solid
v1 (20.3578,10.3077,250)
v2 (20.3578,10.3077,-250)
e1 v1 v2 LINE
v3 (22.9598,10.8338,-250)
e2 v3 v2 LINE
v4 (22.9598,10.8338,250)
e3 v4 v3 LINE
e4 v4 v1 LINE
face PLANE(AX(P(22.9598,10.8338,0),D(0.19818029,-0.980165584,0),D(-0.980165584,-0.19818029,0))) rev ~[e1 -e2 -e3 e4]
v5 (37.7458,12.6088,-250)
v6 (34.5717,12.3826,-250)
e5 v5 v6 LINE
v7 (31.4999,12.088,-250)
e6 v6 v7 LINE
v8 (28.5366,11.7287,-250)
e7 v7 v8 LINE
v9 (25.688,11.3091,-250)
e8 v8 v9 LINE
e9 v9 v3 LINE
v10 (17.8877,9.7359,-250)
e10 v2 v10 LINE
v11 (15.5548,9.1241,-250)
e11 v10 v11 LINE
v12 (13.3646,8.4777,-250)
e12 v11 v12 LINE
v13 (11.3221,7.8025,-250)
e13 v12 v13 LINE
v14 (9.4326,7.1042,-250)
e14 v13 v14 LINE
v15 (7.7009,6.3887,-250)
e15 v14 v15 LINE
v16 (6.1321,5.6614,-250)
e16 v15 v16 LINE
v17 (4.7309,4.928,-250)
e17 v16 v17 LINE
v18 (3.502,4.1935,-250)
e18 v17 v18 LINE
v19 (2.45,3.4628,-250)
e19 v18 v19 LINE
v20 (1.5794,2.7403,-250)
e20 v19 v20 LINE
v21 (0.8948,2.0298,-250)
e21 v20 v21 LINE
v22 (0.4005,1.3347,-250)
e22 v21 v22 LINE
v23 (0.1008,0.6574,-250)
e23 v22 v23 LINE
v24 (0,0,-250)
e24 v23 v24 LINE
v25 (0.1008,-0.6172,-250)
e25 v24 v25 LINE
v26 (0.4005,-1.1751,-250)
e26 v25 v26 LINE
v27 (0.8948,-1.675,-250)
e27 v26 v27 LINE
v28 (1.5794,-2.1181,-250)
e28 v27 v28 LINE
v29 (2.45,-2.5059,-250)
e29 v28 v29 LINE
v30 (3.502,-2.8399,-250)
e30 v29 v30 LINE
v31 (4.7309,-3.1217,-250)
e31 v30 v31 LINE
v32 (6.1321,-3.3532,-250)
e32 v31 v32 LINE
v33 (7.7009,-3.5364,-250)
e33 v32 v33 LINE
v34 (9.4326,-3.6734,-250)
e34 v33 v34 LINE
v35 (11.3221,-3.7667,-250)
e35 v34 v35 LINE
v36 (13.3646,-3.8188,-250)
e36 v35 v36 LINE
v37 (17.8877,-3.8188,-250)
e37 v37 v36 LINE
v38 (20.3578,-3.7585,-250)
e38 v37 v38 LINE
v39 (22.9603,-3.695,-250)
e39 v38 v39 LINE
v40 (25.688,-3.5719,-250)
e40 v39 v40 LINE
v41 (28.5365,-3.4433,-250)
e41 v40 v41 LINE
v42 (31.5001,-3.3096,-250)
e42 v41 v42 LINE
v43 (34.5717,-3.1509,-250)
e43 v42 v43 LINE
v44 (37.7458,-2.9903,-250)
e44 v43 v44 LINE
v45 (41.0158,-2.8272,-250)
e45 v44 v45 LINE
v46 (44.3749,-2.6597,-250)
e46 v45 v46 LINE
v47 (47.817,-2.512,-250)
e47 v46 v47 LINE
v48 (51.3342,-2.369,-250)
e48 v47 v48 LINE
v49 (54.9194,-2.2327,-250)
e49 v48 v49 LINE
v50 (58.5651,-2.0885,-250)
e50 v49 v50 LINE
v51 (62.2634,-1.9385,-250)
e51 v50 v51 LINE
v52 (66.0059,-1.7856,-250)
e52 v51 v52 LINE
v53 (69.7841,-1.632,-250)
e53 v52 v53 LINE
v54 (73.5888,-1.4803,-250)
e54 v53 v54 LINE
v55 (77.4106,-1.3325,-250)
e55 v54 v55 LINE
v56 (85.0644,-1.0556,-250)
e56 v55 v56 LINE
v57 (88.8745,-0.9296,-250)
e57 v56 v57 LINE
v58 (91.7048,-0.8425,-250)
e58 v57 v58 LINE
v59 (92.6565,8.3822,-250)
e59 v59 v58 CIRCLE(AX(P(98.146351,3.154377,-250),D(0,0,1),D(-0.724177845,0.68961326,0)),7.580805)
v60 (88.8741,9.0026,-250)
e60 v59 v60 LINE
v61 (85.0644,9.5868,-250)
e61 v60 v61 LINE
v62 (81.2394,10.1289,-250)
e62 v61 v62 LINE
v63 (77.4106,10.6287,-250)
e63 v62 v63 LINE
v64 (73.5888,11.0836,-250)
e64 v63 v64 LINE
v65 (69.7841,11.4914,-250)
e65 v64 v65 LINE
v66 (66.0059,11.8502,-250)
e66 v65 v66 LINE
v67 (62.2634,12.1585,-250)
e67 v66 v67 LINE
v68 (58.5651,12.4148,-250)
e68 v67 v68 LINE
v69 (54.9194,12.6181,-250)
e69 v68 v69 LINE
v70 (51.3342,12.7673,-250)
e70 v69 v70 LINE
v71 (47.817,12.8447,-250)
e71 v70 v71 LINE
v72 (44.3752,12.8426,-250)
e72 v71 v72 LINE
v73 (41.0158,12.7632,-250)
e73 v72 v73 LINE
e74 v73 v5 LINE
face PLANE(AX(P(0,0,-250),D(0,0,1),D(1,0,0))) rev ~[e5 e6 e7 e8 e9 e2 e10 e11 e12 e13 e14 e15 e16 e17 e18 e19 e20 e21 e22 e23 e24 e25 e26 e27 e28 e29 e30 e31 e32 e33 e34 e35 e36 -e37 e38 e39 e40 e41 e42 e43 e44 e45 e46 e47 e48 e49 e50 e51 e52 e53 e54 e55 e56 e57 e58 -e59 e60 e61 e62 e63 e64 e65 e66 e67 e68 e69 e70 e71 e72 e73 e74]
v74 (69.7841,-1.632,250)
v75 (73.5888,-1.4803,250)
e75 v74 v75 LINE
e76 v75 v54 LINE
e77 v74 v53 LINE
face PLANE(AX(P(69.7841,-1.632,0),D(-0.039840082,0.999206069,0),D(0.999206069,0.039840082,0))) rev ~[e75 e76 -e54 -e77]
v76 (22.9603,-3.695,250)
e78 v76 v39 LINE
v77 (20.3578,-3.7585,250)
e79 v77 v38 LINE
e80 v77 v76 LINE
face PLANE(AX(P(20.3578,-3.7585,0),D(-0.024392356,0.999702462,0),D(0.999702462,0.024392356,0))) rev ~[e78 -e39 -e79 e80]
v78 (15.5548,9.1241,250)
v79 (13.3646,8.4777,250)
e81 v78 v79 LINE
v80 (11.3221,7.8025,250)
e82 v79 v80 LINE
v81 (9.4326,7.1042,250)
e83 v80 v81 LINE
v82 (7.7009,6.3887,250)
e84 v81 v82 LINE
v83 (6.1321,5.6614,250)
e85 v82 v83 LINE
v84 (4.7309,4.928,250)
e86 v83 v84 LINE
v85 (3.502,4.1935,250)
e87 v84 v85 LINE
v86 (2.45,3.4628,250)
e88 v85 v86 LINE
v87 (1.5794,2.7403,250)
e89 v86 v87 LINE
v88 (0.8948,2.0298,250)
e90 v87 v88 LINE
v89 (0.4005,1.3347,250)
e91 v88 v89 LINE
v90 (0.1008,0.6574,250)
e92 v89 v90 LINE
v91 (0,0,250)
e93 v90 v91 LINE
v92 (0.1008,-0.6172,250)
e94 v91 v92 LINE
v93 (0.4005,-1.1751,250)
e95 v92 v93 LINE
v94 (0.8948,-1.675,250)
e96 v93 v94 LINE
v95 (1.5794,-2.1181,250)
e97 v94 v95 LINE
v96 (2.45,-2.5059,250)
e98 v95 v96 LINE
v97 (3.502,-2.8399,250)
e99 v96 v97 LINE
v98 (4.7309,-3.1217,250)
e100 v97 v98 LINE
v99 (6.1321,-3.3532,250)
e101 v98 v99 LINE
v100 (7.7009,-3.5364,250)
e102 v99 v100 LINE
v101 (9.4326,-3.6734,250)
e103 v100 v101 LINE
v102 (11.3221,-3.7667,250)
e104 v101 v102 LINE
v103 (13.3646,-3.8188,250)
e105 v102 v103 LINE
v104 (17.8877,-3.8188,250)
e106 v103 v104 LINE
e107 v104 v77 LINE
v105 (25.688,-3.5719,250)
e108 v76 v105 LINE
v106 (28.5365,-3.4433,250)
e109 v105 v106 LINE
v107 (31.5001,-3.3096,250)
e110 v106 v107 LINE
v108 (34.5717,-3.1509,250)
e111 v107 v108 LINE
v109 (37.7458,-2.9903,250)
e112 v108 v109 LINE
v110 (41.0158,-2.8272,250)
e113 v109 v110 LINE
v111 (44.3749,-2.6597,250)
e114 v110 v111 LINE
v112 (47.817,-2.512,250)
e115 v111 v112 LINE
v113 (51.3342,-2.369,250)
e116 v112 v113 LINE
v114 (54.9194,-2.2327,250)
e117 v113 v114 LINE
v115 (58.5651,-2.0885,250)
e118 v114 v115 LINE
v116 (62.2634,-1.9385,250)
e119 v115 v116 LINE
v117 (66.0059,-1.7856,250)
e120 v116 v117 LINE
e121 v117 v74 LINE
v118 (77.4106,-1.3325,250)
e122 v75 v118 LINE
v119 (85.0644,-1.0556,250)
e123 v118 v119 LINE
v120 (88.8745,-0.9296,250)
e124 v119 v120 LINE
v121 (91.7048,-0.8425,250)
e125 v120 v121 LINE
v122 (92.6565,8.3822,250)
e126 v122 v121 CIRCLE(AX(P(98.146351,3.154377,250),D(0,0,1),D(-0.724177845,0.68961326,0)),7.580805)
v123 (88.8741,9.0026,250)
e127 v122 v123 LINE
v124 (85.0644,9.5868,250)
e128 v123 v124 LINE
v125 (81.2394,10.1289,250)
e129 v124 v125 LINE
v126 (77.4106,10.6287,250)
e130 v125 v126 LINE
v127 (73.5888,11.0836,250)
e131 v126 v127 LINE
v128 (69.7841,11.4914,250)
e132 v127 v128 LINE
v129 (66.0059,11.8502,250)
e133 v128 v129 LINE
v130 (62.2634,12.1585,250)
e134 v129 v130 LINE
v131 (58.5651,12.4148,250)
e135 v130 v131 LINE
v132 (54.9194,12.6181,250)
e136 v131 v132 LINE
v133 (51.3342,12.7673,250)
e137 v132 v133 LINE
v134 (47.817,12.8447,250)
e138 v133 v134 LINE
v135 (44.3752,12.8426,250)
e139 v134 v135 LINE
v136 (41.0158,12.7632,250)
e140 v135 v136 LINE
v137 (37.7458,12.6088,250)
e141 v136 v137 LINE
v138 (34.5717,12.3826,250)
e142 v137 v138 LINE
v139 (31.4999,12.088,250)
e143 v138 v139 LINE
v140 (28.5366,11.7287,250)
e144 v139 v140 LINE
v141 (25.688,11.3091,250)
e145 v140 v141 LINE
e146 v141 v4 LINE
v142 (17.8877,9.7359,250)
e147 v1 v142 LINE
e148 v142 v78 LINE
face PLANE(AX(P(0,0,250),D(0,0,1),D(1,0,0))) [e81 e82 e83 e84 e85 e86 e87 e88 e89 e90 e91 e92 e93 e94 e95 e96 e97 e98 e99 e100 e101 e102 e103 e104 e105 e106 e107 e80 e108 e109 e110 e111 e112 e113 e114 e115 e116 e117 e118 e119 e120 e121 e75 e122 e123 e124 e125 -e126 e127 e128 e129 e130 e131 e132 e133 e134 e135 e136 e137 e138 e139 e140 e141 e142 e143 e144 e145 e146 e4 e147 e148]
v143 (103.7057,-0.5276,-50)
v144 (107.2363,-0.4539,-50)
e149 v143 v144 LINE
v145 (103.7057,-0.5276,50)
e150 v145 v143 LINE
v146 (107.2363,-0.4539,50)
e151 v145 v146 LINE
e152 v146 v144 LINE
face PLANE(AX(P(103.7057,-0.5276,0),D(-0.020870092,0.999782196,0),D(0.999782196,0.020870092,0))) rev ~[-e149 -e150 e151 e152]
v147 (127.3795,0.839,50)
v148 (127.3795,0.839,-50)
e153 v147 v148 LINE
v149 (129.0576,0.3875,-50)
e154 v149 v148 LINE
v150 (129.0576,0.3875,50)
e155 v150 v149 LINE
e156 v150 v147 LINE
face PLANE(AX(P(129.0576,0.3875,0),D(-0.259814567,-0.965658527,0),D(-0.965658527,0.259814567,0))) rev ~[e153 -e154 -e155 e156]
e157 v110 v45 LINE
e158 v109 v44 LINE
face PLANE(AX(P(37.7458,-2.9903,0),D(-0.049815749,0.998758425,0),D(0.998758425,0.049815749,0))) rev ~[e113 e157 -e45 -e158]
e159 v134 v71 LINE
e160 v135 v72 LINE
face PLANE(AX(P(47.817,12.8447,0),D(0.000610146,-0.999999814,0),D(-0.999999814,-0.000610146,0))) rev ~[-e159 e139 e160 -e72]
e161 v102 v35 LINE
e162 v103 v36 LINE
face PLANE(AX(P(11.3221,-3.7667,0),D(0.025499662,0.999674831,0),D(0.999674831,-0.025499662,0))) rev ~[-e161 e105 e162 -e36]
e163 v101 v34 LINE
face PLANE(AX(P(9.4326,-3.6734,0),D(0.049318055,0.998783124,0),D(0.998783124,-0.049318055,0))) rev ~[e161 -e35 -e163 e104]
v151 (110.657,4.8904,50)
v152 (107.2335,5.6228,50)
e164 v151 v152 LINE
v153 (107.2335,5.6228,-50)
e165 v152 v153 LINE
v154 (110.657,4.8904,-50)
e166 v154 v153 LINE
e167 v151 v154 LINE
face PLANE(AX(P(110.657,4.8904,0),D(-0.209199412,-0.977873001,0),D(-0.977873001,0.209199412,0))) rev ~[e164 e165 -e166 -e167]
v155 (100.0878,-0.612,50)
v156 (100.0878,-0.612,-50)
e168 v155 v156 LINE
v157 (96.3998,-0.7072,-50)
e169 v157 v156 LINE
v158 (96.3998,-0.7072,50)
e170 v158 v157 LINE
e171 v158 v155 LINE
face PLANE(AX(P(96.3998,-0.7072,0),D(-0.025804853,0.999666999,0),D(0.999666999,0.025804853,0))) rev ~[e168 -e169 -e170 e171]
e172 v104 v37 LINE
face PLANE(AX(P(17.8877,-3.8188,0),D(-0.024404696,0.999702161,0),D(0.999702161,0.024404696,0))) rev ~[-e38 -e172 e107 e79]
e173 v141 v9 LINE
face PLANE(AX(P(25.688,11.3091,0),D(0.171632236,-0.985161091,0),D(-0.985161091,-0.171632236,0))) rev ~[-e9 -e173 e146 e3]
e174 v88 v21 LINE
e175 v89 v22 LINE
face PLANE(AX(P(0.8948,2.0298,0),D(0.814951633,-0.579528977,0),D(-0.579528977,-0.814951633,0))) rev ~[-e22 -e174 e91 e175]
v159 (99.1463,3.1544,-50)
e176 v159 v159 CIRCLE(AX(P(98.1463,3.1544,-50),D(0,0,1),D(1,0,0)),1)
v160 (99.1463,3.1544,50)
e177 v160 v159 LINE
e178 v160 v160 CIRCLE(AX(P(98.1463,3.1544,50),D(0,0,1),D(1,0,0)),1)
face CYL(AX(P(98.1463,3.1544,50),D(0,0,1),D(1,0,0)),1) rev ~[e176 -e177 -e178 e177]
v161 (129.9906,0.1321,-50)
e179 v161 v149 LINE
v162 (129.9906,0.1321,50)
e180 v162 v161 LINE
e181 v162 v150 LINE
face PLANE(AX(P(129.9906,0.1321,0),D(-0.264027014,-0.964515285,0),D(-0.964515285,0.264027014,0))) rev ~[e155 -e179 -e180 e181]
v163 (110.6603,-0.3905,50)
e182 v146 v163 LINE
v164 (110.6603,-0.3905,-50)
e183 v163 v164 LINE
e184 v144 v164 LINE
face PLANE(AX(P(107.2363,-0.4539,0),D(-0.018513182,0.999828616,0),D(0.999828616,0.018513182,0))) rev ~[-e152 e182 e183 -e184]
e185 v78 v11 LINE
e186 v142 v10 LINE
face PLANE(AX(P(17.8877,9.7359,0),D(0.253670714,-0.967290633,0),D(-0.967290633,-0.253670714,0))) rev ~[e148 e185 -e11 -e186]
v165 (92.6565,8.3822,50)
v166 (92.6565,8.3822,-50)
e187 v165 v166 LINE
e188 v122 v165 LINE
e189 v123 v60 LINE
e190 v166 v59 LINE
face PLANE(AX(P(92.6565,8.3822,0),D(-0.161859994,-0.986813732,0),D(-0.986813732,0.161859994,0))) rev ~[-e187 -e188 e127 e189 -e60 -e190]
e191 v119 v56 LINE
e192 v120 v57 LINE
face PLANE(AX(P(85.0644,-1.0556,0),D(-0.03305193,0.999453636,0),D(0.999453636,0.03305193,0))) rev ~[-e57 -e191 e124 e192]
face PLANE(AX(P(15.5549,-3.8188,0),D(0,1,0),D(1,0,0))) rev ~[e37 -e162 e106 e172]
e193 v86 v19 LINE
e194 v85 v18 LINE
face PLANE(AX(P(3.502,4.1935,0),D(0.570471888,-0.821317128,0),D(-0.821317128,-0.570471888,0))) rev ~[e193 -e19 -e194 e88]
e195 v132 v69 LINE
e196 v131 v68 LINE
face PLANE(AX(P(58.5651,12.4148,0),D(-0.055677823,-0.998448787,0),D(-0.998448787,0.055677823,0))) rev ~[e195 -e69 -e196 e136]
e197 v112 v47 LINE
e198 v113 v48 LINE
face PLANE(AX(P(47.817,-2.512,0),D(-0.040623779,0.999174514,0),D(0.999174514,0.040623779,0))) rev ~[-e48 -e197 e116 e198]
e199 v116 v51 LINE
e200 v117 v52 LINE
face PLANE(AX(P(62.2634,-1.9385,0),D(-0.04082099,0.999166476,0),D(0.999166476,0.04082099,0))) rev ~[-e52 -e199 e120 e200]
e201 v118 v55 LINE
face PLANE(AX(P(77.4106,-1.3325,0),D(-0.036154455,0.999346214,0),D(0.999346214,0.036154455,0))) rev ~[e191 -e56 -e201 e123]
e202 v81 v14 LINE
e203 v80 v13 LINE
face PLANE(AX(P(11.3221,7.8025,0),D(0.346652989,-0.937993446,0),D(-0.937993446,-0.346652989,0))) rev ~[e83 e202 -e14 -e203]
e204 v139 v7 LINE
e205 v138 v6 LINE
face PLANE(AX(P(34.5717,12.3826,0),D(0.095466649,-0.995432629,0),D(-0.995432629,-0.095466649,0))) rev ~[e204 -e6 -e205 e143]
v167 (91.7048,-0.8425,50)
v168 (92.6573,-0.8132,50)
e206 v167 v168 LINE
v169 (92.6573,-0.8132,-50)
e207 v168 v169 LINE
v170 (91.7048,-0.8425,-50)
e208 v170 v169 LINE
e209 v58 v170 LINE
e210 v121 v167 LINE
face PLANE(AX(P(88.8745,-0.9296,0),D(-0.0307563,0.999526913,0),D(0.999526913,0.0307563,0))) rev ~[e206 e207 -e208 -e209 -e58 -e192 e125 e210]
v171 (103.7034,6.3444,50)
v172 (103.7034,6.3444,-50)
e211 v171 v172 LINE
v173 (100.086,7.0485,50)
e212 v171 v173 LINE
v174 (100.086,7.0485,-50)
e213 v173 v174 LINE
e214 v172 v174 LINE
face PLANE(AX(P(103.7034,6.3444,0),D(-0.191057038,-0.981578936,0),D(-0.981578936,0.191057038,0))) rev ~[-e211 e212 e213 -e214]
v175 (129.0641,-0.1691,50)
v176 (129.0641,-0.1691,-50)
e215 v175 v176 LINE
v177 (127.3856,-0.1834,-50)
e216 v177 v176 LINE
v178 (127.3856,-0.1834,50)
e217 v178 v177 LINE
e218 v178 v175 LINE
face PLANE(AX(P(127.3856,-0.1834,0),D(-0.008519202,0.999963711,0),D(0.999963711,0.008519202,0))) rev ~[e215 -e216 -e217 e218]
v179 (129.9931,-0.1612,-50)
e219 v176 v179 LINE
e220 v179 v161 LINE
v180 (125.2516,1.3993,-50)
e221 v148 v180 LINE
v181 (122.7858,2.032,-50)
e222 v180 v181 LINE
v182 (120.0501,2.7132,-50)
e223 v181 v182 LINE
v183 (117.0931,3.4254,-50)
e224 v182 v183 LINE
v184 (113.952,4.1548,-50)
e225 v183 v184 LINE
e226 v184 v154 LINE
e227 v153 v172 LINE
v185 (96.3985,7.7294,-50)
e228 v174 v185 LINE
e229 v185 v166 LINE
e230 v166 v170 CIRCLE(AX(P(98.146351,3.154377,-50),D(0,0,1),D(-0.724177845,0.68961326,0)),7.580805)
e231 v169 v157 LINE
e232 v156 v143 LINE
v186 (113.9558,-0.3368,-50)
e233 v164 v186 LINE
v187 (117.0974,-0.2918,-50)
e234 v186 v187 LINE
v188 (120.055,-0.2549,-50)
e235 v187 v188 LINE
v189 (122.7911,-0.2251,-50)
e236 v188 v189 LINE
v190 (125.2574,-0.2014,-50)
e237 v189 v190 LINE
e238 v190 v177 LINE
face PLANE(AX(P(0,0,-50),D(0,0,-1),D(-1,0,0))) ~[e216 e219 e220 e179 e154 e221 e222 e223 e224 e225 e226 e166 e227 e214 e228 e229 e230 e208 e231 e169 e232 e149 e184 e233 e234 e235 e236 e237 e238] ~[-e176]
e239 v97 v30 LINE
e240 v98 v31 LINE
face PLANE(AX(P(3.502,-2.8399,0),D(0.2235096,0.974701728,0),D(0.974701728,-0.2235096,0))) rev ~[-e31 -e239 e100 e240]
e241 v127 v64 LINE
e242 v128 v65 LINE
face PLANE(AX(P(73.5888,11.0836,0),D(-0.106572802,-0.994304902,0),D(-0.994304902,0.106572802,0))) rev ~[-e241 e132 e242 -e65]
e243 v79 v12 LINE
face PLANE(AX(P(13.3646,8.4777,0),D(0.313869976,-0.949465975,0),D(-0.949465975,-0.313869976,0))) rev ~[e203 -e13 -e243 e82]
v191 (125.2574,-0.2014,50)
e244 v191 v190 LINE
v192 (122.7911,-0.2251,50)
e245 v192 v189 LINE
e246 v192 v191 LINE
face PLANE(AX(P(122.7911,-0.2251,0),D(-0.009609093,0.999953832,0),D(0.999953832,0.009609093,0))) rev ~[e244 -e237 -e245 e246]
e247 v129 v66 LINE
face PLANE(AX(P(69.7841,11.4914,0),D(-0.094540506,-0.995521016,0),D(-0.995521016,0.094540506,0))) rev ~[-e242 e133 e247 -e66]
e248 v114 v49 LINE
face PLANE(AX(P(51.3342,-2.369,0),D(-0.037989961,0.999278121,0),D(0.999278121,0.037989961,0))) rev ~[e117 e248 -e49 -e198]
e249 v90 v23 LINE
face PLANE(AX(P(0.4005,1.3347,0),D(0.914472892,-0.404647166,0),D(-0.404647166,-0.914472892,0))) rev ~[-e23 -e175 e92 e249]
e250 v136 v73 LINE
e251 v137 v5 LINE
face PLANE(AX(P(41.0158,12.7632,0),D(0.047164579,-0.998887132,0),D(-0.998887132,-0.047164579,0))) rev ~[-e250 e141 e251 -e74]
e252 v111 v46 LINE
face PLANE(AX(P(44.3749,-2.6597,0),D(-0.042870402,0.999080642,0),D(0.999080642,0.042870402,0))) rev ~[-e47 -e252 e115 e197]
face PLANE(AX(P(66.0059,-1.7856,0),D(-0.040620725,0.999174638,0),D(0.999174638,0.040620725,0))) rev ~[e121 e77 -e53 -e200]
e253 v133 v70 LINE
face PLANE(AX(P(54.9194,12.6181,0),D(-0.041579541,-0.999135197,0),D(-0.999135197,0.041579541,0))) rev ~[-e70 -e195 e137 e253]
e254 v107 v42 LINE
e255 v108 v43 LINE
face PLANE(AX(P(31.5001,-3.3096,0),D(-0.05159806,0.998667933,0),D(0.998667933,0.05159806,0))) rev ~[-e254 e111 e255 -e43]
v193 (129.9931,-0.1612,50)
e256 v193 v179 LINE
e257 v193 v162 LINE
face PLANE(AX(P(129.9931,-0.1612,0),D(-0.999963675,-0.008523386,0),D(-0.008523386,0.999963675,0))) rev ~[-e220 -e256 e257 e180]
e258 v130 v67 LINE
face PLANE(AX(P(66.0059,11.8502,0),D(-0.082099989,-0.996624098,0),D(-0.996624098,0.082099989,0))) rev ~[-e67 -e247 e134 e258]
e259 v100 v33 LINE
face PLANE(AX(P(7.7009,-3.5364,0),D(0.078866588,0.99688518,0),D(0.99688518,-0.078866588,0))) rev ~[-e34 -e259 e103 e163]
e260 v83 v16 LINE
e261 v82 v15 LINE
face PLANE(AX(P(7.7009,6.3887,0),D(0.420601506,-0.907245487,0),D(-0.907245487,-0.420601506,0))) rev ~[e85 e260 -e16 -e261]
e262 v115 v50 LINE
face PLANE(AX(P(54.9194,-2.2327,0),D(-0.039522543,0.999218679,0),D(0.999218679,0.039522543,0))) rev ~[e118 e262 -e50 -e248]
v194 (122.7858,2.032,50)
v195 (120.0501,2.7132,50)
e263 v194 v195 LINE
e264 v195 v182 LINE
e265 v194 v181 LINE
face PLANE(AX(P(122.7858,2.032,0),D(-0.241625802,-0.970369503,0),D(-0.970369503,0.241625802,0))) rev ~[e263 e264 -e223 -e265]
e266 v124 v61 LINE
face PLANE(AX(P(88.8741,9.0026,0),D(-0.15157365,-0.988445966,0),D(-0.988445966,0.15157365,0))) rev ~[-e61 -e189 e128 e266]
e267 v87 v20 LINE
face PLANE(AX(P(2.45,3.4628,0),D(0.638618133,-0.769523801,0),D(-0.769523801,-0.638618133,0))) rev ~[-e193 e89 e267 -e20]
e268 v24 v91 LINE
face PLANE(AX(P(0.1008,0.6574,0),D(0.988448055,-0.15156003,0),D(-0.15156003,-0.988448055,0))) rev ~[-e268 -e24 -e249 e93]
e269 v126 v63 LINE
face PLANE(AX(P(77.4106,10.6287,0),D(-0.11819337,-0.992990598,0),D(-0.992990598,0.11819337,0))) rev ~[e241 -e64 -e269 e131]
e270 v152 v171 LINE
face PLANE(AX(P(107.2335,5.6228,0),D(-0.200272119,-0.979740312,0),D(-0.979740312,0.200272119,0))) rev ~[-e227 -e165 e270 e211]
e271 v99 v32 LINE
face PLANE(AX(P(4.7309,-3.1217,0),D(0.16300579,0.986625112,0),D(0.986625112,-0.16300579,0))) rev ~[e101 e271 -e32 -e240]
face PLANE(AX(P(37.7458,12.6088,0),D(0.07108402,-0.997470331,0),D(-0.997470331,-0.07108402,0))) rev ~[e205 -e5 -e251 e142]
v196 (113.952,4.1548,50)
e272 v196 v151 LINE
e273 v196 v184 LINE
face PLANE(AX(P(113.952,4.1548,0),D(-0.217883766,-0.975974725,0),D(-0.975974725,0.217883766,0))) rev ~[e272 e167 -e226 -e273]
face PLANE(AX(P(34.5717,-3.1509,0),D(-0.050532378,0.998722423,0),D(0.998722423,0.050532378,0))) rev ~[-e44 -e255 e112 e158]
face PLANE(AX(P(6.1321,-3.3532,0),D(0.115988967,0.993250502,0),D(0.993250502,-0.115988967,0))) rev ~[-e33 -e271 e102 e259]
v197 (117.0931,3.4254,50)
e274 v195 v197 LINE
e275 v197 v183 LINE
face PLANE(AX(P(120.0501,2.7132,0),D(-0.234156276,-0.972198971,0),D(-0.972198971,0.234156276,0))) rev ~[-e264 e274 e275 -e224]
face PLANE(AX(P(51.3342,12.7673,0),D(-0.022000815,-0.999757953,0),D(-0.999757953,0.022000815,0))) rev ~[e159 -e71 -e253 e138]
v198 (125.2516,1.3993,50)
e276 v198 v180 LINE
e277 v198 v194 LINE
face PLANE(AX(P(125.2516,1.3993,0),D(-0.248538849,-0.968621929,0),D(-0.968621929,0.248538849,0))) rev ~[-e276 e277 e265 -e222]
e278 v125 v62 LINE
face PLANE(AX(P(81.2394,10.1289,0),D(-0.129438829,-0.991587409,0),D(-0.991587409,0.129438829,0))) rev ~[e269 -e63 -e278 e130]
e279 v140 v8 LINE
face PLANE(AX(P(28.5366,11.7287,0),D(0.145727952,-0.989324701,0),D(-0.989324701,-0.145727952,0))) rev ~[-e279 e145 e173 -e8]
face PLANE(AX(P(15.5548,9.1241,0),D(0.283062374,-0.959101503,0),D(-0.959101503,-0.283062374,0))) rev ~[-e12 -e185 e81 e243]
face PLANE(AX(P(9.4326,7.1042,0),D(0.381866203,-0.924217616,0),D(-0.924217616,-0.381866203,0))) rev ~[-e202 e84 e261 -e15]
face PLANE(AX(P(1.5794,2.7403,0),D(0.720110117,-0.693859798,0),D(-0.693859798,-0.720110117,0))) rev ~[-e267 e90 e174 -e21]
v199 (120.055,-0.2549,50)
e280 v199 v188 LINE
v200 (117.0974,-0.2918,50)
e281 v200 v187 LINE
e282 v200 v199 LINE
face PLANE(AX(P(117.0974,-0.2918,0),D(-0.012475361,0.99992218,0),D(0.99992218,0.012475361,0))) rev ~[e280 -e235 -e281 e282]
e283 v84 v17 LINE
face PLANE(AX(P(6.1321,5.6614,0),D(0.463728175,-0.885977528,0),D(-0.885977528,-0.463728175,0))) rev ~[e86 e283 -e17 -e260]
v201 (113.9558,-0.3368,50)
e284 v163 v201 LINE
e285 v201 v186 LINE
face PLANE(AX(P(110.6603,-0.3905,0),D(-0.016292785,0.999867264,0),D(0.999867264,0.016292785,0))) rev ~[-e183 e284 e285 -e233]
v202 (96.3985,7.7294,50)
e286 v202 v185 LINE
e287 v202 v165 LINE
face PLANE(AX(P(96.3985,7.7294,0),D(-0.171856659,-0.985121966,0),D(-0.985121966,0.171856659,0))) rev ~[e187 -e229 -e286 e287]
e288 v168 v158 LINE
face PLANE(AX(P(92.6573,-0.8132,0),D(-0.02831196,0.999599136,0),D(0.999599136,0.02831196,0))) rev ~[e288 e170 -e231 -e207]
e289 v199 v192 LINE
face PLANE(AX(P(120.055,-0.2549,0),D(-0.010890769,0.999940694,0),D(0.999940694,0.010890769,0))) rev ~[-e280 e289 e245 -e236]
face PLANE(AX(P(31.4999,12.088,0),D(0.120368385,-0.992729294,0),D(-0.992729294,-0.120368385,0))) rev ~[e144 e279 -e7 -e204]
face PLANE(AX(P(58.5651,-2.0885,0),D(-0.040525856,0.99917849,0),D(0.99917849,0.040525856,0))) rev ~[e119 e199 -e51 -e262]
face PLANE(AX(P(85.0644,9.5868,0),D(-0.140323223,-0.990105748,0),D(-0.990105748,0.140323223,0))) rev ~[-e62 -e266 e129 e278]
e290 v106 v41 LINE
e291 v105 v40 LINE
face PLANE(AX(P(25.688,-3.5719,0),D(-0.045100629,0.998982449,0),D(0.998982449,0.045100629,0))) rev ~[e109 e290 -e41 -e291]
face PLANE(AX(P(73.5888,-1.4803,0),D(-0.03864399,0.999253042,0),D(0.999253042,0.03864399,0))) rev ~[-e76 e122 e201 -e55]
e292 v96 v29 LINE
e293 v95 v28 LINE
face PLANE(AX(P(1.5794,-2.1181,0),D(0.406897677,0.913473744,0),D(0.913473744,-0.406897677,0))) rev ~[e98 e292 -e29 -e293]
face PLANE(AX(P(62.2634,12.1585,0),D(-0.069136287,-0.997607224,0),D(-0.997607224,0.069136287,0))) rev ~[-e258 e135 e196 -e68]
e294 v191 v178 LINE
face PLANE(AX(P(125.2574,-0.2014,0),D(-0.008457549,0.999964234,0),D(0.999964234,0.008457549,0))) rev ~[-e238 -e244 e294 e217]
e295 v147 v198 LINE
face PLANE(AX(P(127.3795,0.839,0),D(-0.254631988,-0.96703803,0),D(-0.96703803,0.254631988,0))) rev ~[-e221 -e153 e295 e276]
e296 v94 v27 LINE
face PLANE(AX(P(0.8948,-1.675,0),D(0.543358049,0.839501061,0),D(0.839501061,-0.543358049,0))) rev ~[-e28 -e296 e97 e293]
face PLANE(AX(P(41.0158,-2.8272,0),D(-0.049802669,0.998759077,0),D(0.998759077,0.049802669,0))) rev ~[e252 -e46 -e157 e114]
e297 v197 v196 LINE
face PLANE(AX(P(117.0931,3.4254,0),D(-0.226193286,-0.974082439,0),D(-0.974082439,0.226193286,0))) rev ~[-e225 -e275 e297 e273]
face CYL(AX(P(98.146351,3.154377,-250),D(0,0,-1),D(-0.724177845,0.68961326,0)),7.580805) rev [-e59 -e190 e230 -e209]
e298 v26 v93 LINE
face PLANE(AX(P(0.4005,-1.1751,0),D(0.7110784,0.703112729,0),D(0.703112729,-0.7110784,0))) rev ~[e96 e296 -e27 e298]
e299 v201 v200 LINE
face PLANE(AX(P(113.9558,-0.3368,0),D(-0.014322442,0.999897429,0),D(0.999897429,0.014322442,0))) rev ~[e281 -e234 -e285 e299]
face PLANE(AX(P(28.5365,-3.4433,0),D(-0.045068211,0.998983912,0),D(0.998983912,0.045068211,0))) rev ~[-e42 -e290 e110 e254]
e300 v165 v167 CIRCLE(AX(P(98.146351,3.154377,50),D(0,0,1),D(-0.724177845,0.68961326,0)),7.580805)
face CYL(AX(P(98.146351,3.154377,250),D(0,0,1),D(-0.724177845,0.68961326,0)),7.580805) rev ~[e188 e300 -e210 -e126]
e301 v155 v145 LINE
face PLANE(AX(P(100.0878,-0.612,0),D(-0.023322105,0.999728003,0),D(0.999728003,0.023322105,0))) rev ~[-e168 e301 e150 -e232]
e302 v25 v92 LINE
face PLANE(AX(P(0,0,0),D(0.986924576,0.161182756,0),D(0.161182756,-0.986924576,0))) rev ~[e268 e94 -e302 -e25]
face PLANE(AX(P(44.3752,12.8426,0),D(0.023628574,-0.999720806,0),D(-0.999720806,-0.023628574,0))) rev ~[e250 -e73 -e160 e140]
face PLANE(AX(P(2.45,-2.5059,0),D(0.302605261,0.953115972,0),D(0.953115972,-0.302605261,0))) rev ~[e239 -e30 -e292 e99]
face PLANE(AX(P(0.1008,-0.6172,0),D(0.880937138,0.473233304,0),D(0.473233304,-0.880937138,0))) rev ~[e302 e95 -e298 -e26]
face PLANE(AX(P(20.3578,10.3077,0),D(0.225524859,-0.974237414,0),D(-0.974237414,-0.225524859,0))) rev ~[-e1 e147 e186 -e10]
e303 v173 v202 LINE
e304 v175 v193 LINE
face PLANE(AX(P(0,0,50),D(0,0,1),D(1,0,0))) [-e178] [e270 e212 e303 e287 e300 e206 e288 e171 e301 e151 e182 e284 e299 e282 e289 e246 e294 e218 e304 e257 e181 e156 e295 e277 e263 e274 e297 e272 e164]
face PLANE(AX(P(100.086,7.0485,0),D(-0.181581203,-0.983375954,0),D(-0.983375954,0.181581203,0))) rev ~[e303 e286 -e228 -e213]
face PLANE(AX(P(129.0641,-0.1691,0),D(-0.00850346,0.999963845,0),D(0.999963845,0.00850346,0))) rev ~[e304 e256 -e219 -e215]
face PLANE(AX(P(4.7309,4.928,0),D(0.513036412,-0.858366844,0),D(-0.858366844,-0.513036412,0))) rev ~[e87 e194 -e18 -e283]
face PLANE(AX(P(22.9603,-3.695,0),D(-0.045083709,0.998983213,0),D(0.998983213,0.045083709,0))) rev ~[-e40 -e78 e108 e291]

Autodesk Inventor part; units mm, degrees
ref_plane "YZ Plane" through (0, 0, 0) normal (1, 0, 0) x (0, 1, 0)
ref_plane "XZ Plane" through (0, 0, 0) normal (0, 1, 0) x (-1, 0, 0)
sketch "Náčrt3" plane through (0, 0, 0) normal (0, 0, 1) x (1, 0, 0)
  line L0 (0, 0) -> (0.1008, -0.6172)
  line L1 (0.1008, -0.6172) -> (0.4005, -1.1751)
  line L2 (0.4005, -1.1751) -> (0.8948, -1.675)
  line L3 (0.8948, -1.675) -> (1.5794, -2.1181)
  line L4 (1.5794, -2.1181) -> (2.45, -2.5059)
  line L5 (2.45, -2.5059) -> (3.502, -2.8399)
  line L6 (3.502, -2.8399) -> (4.7309, -3.1217)
  line L7 (4.7309, -3.1217) -> (6.1321, -3.3532)
  line L8 (6.1321, -3.3532) -> (7.7009, -3.5364)
  line L9 (7.7009, -3.5364) -> (9.4326, -3.6734)
  line L10 (9.4326, -3.6734) -> (11.3221, -3.7667)
  line L11 (11.3221, -3.7667) -> (13.3646, -3.8188)
  line L12 (13.3646, -3.8188) -> (15.5549, -3.8188)
  line L13 (15.5549, -3.8188) -> (17.8877, -3.8188)
  line L14 (17.8877, -3.8188) -> (20.3578, -3.7585)
  line L15 (20.3578, -3.7585) -> (22.9603, -3.695)
  line L16 (22.9603, -3.695) -> (25.688, -3.5719)
  line L17 (25.688, -3.5719) -> (28.5365, -3.4433)
  line L18 (28.5365, -3.4433) -> (31.5001, -3.3096)
  line L19 (31.5001, -3.3096) -> (34.5717, -3.1509)
  line L20 (34.5717, -3.1509) -> (37.7458, -2.9903)
  line L21 (37.7458, -2.9903) -> (41.0158, -2.8272)
  line L22 (41.0158, -2.8272) -> (44.3749, -2.6597)
  line L23 (44.3749, -2.6597) -> (47.817, -2.512)
  line L24 (47.817, -2.512) -> (51.3342, -2.369)
  line L25 (51.3342, -2.369) -> (54.9194, -2.2327)
  line L26 (54.9194, -2.2327) -> (58.5651, -2.0885)
  line L27 (58.5651, -2.0885) -> (62.2634, -1.9385)
  line L28 (62.2634, -1.9385) -> (66.0059, -1.7856)
  line L29 (66.0059, -1.7856) -> (69.7841, -1.632)
  line L30 (69.7841, -1.632) -> (73.5888, -1.4803)
  line L31 (73.5888, -1.4803) -> (77.4106, -1.3325)
  line L32 (77.4106, -1.3325) -> (85.0644, -1.0556)
  line L33 (85.0644, -1.0556) -> (88.8745, -0.9296)
  line L34 (88.8745, -0.9296) -> (92.6573, -0.8132)
  line L35 (92.6573, -0.8132) -> (96.3998, -0.7072)
  line L36 (96.3998, -0.7072) -> (100.0878, -0.612)
  line L37 (100.0878, -0.612) -> (103.7057, -0.5276)
  line L38 (103.7057, -0.5276) -> (107.2363, -0.4539)
  line L39 (107.2363, -0.4539) -> (110.6603, -0.3905)
  line L40 (110.6603, -0.3905) -> (113.9558, -0.3368)
  line L41 (113.9558, -0.3368) -> (117.0974, -0.2918)
  line L42 (117.0974, -0.2918) -> (120.055, -0.2549)
  line L43 (120.055, -0.2549) -> (122.7911, -0.2251)
  line L44 (122.7911, -0.2251) -> (125.2574, -0.2014)
  line L45 (125.2574, -0.2014) -> (127.3856, -0.1834)
  line L46 (127.3856, -0.1834) -> (129.0641, -0.1691)
  line L47 (129.0641, -0.1691) -> (129.9931, -0.1612)
  line L48 (129.9931, -0.1612) -> (129.9906, 0.1321)
  line L49 (129.9906, 0.1321) -> (129.0576, 0.3875)
  line L50 (129.0576, 0.3875) -> (127.3795, 0.839)
  line L51 (127.3795, 0.839) -> (125.2516, 1.3993)
  line L52 (125.2516, 1.3993) -> (122.7858, 2.032)
  line L53 (122.7858, 2.032) -> (120.0501, 2.7132)
  line L54 (120.0501, 2.7132) -> (117.0931, 3.4254)
  line L55 (117.0931, 3.4254) -> (113.952, 4.1548)
  line L56 (113.952, 4.1548) -> (110.657, 4.8904)
  line L57 (110.657, 4.8904) -> (107.2335, 5.6228)
  line L58 (107.2335, 5.6228) -> (103.7034, 6.3444)
  line L59 (103.7034, 6.3444) -> (100.086, 7.0485)
  line L60 (100.086, 7.0485) -> (96.3985, 7.7294)
  line L61 (96.3985, 7.7294) -> (92.6565, 8.3822)
  line L62 (92.6565, 8.3822) -> (88.8741, 9.0026)
  line L63 (88.8741, 9.0026) -> (85.0644, 9.5868)
  line L64 (85.0644, 9.5868) -> (81.2394, 10.1289)
  line L65 (81.2394, 10.1289) -> (77.4106, 10.6287)
  line L66 (77.4106, 10.6287) -> (73.5888, 11.0836)
  line L67 (73.5888, 11.0836) -> (69.7841, 11.4914)
  line L68 (69.7841, 11.4914) -> (66.0059, 11.8502)
  line L69 (66.0059, 11.8502) -> (62.2634, 12.1585)
  line L70 (62.2634, 12.1585) -> (58.5651, 12.4148)
  line L71 (58.5651, 12.4148) -> (54.9194, 12.6181)
  line L72 (54.9194, 12.6181) -> (51.3342, 12.7673)
  line L73 (51.3342, 12.7673) -> (47.817, 12.8447)
  line L74 (47.817, 12.8447) -> (44.3752, 12.8426)
  line L75 (44.3752, 12.8426) -> (41.0158, 12.7632)
  line L76 (41.0158, 12.7632) -> (37.7458, 12.6088)
  line L77 (37.7458, 12.6088) -> (34.5717, 12.3826)
  line L78 (34.5717, 12.3826) -> (31.4999, 12.088)
  line L79 (31.4999, 12.088) -> (28.5366, 11.7287)
  line L80 (28.5366, 11.7287) -> (25.688, 11.3091)
  line L81 (25.688, 11.3091) -> (22.9598, 10.8338)
  line L82 (22.9598, 10.8338) -> (20.3578, 10.3077)
  line L83 (20.3578, 10.3077) -> (17.8877, 9.7359)
  line L84 (17.8877, 9.7359) -> (15.5548, 9.1241)
  line L85 (15.5548, 9.1241) -> (13.3646, 8.4777)
  line L86 (13.3646, 8.4777) -> (11.3221, 7.8025)
  line L87 (11.3221, 7.8025) -> (9.4326, 7.1042)
  line L88 (9.4326, 7.1042) -> (7.7009, 6.3887)
  line L89 (7.7009, 6.3887) -> (6.1321, 5.6614)
  line L90 (6.1321, 5.6614) -> (4.7309, 4.928)
  line L91 (4.7309, 4.928) -> (3.502, 4.1935)
  line L92 (3.502, 4.1935) -> (2.45, 3.4628)
  line L93 (2.45, 3.4628) -> (1.5794, 2.7403)
  line L94 (1.5794, 2.7403) -> (0.8948, 2.0298)
  line L95 (0.8948, 2.0298) -> (0.4005, 1.3347)
  line L96 (0.4005, 1.3347) -> (0.1008, 0.6574)
  line L97 (0.1008, 0.6574) -> (0, 0)
  point P0 (81.2394, -1.1904)
extrude "Vysunutí1" add sketch "Náčrt3" along normal mid plane 500
sketch "Náčrt4" plane through (0, 0, 250) normal (0, 0, 1) x (1, 0, 0)
  line L0 (92.6573, -0.8132) -> (88.8745, -0.9296) projected
  line L1 (92.6565, 8.3822) -> (96.3985, 7.7294) projected
  arc A0 (92.6565, 8.3822) -> (91.7048, -0.8425) centre (98.1463, 3.1544) ccw
  line L2 (91.7048, -0.8425) -> (107.6986, -0.3505)
  line L3 (129.9931, -0.1612) -> (125.2574, -0.2014) projected
  line L4 (107.6986, -0.3505) -> (129.9931, -0.1612)
  line L5 (129.9906, 0.1321) -> (129.0576, 0.3875) projected
  line L6 (129.9931, -0.1612) -> (129.9906, 0.1321)
  line L7 (129.9906, 0.1321) -> (93.9107, 9.4415)
  line L8 (93.9107, 9.4415) -> (92.6565, 8.3822)
  line L9 (91.7048, -0.8425) -> (93.0009, -2.4127)
  line L10 (93.0009, -2.4127) -> (129.9931, -0.1612)
  line L11 (129.9931, -0.1612) -> (130.1118, -0.1429)
  line L12 (130.1118, -0.1429) -> (130.1094, 0.1331)
  line L13 (130.1094, 0.1331) -> (129.9906, 0.1321)
  line L14 (130.1094, 0.1331) -> (128.1613, 1.4193)
  line L15 (128.1613, 1.4193) -> (113.3536, 4.4248)
  point P0 (0, 0)
extrude "Vysunutí2" cut sketch "Náčrt4" against normal blind 200
mirror "Zrcadlit1" about plane through (0, 0, 0) normal (0, 0, 1) of "Vysunutí2"
sketch "Náčrt6" plane through (0, 0, 50) normal (0, 0, 1) x (1, 0, 0)
  arc A0 (92.6565, 8.3822) -> (91.7048, -0.8425) centre (98.1463, 3.1544) ccw projected
  line L0 (92.6565, 8.3822) -> (96.3985, 7.7294) projected
  arc A1 (92.6565, 8.3822) -> (91.7048, -0.8425) centre (98.1463, 3.1544) ccw projected
  line L1 (92.6573, -0.8132) -> (91.7048, -0.8425) projected
  line L2 (96.3998, -0.7072) -> (92.6573, -0.8132) projected
  line L3 (100.0878, -0.612) -> (96.3998, -0.7072) projected
  line L4 (103.7057, -0.5276) -> (100.0878, -0.612) projected
  line L5 (107.2363, -0.4539) -> (103.7057, -0.5276) projected
  line L6 (110.6603, -0.3905) -> (107.2363, -0.4539) projected
  line L7 (113.9558, -0.3368) -> (110.6603, -0.3905) projected
  line L8 (117.0974, -0.2918) -> (113.9558, -0.3368) projected
  line L9 (120.055, -0.2549) -> (117.0974, -0.2918) projected
  line L10 (122.7911, -0.2251) -> (120.055, -0.2549) projected
  line L11 (125.2574, -0.2014) -> (122.7911, -0.2251) projected
  line L12 (129.9931, -0.1612) -> (125.2574, -0.2014) projected
  line L13 (129.9906, 0.1321) -> (129.9931, -0.1612) projected
  line L14 (129.0576, 0.3875) -> (129.9906, 0.1321) projected
  line L15 (127.3795, 0.839) -> (129.0576, 0.3875) projected
  line L16 (125.2516, 1.3993) -> (127.3795, 0.839) projected
  line L17 (122.7858, 2.032) -> (125.2516, 1.3993) projected
  line L18 (120.0501, 2.7132) -> (122.7858, 2.032) projected
  line L19 (117.0931, 3.4254) -> (120.0501, 2.7132) projected
  line L20 (113.952, 4.1548) -> (117.0931, 3.4254) projected
  line L21 (110.657, 4.8904) -> (113.952, 4.1548) projected
  line L22 (107.2335, 5.6228) -> (110.657, 4.8904) projected
  line L23 (103.7034, 6.3444) -> (107.2335, 5.6228) projected
  line L24 (100.086, 7.0485) -> (103.7034, 6.3444) projected
  line L25 (96.3985, 7.7294) -> (100.086, 7.0485) projected
  arc A2 (92.6565, 8.3822) -> (91.7048, -0.8425) centre (98.1463, 3.1544) ccw projected
  line L26 (92.6565, 8.3822) -> (88.8741, 9.0026) projected
  line L27 (88.8741, 9.0026) -> (85.0644, 9.5868) projected
  line L28 (85.0644, 9.5868) -> (81.2394, 10.1289) projected
  line L29 (81.2394, 10.1289) -> (77.4106, 10.6287) projected
  line L30 (77.4106, 10.6287) -> (73.5888, 11.0836) projected
  line L31 (73.5888, 11.0836) -> (69.7841, 11.4914) projected
  line L32 (69.7841, 11.4914) -> (66.0059, 11.8502) projected
  line L33 (66.0059, 11.8502) -> (62.2634, 12.1585) projected
  line L34 (62.2634, 12.1585) -> (58.5651, 12.4148) projected
  line L35 (58.5651, 12.4148) -> (54.9194, 12.6181) projected
  line L36 (54.9194, 12.6181) -> (51.3342, 12.7673) projected
  line L37 (51.3342, 12.7673) -> (47.817, 12.8447) projected
  line L38 (47.817, 12.8447) -> (44.3752, 12.8426) projected
  line L39 (44.3752, 12.8426) -> (41.0158, 12.7632) projected
  line L40 (41.0158, 12.7632) -> (37.7458, 12.6088) projected
  line L41 (37.7458, 12.6088) -> (34.5717, 12.3826) projected
  line L42 (34.5717, 12.3826) -> (31.4999, 12.088) projected
  line L43 (31.4999, 12.088) -> (28.5366, 11.7287) projected
  line L44 (28.5366, 11.7287) -> (25.688, 11.3091) projected
  line L45 (25.688, 11.3091) -> (22.9598, 10.8338) projected
  line L46 (22.9598, 10.8338) -> (20.3578, 10.3077) projected
  line L47 (20.3578, 10.3077) -> (17.8877, 9.7359) projected
  line L48 (17.8877, 9.7359) -> (15.5548, 9.1241) projected
  line L49 (15.5548, 9.1241) -> (13.3646, 8.4777) projected
  line L50 (13.3646, 8.4777) -> (11.3221, 7.8025) projected
  line L51 (11.3221, 7.8025) -> (9.4326, 7.1042) projected
  line L52 (9.4326, 7.1042) -> (7.7009, 6.3887) projected
  line L53 (7.7009, 6.3887) -> (6.1321, 5.6614) projected
  line L54 (6.1321, 5.6614) -> (4.7309, 4.928) projected
  line L55 (4.7309, 4.928) -> (3.502, 4.1935) projected
  line L56 (3.502, 4.1935) -> (2.45, 3.4628) projected
  line L57 (2.45, 3.4628) -> (1.5794, 2.7403) projected
  line L58 (1.5794, 2.7403) -> (0.8948, 2.0298) projected
  line L59 (0.8948, 2.0298) -> (0.4005, 1.3347) projected
  line L60 (0.4005, 1.3347) -> (0.1008, 0.6574) projected
  line L61 (0.1008, 0.6574) -> (0, 0) projected
  line L62 (0, 0) -> (0.1008, -0.6172) projected
  line L63 (0.1008, -0.6172) -> (0.4005, -1.1751) projected
  line L64 (0.4005, -1.1751) -> (0.8948, -1.675) projected
  line L65 (0.8948, -1.675) -> (1.5794, -2.1181) projected
  line L66 (1.5794, -2.1181) -> (2.45, -2.5059) projected
  line L67 (2.45, -2.5059) -> (3.502, -2.8399) projected
  line L68 (3.502, -2.8399) -> (4.7309, -3.1217) projected
  line L69 (4.7309, -3.1217) -> (6.1321, -3.3532) projected
  line L70 (6.1321, -3.3532) -> (7.7009, -3.5364) projected
  line L71 (7.7009, -3.5364) -> (9.4326, -3.6734) projected
  line L72 (9.4326, -3.6734) -> (11.3221, -3.7667) projected
  line L73 (11.3221, -3.7667) -> (13.3646, -3.8188) projected
  line L74 (13.3646, -3.8188) -> (17.8877, -3.8188) projected
  line L75 (17.8877, -3.8188) -> (22.9603, -3.695) projected
  line L76 (22.9603, -3.695) -> (31.5001, -3.3096) projected
  line L77 (31.5001, -3.3096) -> (34.5717, -3.1509) projected
  line L78 (34.5717, -3.1509) -> (37.7458, -2.9903) projected
  line L79 (37.7458, -2.9903) -> (44.3749, -2.6597) projected
  line L80 (44.3749, -2.6597) -> (47.817, -2.512) projected
  line L81 (47.817, -2.512) -> (51.3342, -2.369) projected
  line L82 (51.3342, -2.369) -> (54.9194, -2.2327) projected
  line L83 (54.9194, -2.2327) -> (58.5651, -2.0885) projected
  line L84 (58.5651, -2.0885) -> (62.2634, -1.9385) projected
  line L85 (62.2634, -1.9385) -> (66.0059, -1.7856) projected
  line L86 (66.0059, -1.7856) -> (69.7841, -1.632) projected
  line L87 (69.7841, -1.632) -> (73.5888, -1.4803) projected
  line L88 (73.5888, -1.4803) -> (77.4106, -1.3325) projected
  line L89 (77.4106, -1.3325) -> (85.0644, -1.0556) projected
  line L90 (85.0644, -1.0556) -> (88.8745, -0.9296) projected
  line L91 (88.8745, -0.9296) -> (91.7048, -0.8425) projected
  arc A3 (93.3574, 8.2599) -> (92.3851, -0.8216) centre (98.1463, 3.1544) ccw
  line L92 (93.3574, 8.2599) -> (130.682, 6.3444)
  line L93 (130.682, 6.3444) -> (133.047, -2.512)
  line L94 (133.047, -2.512) -> (94.9361, -1.9385)
  line L95 (94.9361, -1.9385) -> (92.3851, -0.8216)
  point P0 (92.6565, 8.3822)
  point P1 (91.7048, -0.8425)
  dimension "d7" = 14
sketch "Náčrt7" plane through (0, 0, 50) normal (0, 0, 1) x (1, 0, 0)
  line L0 (92.6565, 8.3822) -> (96.3985, 7.7294) projected
  arc A0 (92.6565, 8.3822) -> (91.7048, -0.8425) centre (98.1463, 3.1544) ccw projected
  line L1 (92.6573, -0.8132) -> (91.7048, -0.8425) projected
  line L2 (96.3998, -0.7072) -> (92.6573, -0.8132) projected
  line L3 (100.0878, -0.612) -> (96.3998, -0.7072) projected
  line L4 (103.7057, -0.5276) -> (100.0878, -0.612) projected
  line L5 (107.2363, -0.4539) -> (103.7057, -0.5276) projected
  line L6 (110.6603, -0.3905) -> (107.2363, -0.4539) projected
  line L7 (113.9558, -0.3368) -> (110.6603, -0.3905) projected
  line L8 (117.0974, -0.2918) -> (113.9558, -0.3368) projected
  line L9 (120.055, -0.2549) -> (117.0974, -0.2918) projected
  line L10 (122.7911, -0.2251) -> (120.055, -0.2549) projected
  line L11 (125.2574, -0.2014) -> (122.7911, -0.2251) projected
  line L12 (129.9931, -0.1612) -> (125.2574, -0.2014) projected
  line L13 (129.9906, 0.1321) -> (129.9931, -0.1612) projected
  line L14 (129.0576, 0.3875) -> (129.9906, 0.1321) projected
  line L15 (127.3795, 0.839) -> (129.0576, 0.3875) projected
  line L16 (125.2516, 1.3993) -> (127.3795, 0.839) projected
  line L17 (122.7858, 2.032) -> (125.2516, 1.3993) projected
  line L18 (120.0501, 2.7132) -> (122.7858, 2.032) projected
  line L19 (117.0931, 3.4254) -> (120.0501, 2.7132) projected
  line L20 (113.952, 4.1548) -> (117.0931, 3.4254) projected
  line L21 (110.657, 4.8904) -> (113.952, 4.1548) projected
  line L22 (107.2335, 5.6228) -> (110.657, 4.8904) projected
  line L23 (103.7034, 6.3444) -> (107.2335, 5.6228) projected
  line L24 (100.086, 7.0485) -> (103.7034, 6.3444) projected
  line L25 (96.3985, 7.7294) -> (100.086, 7.0485) projected
  circle A1 centre (98.1463, 3.1544) radius 1
  point P0 (0, 0)
  dimension "d14" = 2
extrude "Vysunutí7" cut sketch "Náčrt7" against normal through all contours A1
ref_plane "Pracovní rovina1" through (0, 0, 0) normal (0, 0, 1) x (1, 0, 0)
properties part number "pokus 1"
